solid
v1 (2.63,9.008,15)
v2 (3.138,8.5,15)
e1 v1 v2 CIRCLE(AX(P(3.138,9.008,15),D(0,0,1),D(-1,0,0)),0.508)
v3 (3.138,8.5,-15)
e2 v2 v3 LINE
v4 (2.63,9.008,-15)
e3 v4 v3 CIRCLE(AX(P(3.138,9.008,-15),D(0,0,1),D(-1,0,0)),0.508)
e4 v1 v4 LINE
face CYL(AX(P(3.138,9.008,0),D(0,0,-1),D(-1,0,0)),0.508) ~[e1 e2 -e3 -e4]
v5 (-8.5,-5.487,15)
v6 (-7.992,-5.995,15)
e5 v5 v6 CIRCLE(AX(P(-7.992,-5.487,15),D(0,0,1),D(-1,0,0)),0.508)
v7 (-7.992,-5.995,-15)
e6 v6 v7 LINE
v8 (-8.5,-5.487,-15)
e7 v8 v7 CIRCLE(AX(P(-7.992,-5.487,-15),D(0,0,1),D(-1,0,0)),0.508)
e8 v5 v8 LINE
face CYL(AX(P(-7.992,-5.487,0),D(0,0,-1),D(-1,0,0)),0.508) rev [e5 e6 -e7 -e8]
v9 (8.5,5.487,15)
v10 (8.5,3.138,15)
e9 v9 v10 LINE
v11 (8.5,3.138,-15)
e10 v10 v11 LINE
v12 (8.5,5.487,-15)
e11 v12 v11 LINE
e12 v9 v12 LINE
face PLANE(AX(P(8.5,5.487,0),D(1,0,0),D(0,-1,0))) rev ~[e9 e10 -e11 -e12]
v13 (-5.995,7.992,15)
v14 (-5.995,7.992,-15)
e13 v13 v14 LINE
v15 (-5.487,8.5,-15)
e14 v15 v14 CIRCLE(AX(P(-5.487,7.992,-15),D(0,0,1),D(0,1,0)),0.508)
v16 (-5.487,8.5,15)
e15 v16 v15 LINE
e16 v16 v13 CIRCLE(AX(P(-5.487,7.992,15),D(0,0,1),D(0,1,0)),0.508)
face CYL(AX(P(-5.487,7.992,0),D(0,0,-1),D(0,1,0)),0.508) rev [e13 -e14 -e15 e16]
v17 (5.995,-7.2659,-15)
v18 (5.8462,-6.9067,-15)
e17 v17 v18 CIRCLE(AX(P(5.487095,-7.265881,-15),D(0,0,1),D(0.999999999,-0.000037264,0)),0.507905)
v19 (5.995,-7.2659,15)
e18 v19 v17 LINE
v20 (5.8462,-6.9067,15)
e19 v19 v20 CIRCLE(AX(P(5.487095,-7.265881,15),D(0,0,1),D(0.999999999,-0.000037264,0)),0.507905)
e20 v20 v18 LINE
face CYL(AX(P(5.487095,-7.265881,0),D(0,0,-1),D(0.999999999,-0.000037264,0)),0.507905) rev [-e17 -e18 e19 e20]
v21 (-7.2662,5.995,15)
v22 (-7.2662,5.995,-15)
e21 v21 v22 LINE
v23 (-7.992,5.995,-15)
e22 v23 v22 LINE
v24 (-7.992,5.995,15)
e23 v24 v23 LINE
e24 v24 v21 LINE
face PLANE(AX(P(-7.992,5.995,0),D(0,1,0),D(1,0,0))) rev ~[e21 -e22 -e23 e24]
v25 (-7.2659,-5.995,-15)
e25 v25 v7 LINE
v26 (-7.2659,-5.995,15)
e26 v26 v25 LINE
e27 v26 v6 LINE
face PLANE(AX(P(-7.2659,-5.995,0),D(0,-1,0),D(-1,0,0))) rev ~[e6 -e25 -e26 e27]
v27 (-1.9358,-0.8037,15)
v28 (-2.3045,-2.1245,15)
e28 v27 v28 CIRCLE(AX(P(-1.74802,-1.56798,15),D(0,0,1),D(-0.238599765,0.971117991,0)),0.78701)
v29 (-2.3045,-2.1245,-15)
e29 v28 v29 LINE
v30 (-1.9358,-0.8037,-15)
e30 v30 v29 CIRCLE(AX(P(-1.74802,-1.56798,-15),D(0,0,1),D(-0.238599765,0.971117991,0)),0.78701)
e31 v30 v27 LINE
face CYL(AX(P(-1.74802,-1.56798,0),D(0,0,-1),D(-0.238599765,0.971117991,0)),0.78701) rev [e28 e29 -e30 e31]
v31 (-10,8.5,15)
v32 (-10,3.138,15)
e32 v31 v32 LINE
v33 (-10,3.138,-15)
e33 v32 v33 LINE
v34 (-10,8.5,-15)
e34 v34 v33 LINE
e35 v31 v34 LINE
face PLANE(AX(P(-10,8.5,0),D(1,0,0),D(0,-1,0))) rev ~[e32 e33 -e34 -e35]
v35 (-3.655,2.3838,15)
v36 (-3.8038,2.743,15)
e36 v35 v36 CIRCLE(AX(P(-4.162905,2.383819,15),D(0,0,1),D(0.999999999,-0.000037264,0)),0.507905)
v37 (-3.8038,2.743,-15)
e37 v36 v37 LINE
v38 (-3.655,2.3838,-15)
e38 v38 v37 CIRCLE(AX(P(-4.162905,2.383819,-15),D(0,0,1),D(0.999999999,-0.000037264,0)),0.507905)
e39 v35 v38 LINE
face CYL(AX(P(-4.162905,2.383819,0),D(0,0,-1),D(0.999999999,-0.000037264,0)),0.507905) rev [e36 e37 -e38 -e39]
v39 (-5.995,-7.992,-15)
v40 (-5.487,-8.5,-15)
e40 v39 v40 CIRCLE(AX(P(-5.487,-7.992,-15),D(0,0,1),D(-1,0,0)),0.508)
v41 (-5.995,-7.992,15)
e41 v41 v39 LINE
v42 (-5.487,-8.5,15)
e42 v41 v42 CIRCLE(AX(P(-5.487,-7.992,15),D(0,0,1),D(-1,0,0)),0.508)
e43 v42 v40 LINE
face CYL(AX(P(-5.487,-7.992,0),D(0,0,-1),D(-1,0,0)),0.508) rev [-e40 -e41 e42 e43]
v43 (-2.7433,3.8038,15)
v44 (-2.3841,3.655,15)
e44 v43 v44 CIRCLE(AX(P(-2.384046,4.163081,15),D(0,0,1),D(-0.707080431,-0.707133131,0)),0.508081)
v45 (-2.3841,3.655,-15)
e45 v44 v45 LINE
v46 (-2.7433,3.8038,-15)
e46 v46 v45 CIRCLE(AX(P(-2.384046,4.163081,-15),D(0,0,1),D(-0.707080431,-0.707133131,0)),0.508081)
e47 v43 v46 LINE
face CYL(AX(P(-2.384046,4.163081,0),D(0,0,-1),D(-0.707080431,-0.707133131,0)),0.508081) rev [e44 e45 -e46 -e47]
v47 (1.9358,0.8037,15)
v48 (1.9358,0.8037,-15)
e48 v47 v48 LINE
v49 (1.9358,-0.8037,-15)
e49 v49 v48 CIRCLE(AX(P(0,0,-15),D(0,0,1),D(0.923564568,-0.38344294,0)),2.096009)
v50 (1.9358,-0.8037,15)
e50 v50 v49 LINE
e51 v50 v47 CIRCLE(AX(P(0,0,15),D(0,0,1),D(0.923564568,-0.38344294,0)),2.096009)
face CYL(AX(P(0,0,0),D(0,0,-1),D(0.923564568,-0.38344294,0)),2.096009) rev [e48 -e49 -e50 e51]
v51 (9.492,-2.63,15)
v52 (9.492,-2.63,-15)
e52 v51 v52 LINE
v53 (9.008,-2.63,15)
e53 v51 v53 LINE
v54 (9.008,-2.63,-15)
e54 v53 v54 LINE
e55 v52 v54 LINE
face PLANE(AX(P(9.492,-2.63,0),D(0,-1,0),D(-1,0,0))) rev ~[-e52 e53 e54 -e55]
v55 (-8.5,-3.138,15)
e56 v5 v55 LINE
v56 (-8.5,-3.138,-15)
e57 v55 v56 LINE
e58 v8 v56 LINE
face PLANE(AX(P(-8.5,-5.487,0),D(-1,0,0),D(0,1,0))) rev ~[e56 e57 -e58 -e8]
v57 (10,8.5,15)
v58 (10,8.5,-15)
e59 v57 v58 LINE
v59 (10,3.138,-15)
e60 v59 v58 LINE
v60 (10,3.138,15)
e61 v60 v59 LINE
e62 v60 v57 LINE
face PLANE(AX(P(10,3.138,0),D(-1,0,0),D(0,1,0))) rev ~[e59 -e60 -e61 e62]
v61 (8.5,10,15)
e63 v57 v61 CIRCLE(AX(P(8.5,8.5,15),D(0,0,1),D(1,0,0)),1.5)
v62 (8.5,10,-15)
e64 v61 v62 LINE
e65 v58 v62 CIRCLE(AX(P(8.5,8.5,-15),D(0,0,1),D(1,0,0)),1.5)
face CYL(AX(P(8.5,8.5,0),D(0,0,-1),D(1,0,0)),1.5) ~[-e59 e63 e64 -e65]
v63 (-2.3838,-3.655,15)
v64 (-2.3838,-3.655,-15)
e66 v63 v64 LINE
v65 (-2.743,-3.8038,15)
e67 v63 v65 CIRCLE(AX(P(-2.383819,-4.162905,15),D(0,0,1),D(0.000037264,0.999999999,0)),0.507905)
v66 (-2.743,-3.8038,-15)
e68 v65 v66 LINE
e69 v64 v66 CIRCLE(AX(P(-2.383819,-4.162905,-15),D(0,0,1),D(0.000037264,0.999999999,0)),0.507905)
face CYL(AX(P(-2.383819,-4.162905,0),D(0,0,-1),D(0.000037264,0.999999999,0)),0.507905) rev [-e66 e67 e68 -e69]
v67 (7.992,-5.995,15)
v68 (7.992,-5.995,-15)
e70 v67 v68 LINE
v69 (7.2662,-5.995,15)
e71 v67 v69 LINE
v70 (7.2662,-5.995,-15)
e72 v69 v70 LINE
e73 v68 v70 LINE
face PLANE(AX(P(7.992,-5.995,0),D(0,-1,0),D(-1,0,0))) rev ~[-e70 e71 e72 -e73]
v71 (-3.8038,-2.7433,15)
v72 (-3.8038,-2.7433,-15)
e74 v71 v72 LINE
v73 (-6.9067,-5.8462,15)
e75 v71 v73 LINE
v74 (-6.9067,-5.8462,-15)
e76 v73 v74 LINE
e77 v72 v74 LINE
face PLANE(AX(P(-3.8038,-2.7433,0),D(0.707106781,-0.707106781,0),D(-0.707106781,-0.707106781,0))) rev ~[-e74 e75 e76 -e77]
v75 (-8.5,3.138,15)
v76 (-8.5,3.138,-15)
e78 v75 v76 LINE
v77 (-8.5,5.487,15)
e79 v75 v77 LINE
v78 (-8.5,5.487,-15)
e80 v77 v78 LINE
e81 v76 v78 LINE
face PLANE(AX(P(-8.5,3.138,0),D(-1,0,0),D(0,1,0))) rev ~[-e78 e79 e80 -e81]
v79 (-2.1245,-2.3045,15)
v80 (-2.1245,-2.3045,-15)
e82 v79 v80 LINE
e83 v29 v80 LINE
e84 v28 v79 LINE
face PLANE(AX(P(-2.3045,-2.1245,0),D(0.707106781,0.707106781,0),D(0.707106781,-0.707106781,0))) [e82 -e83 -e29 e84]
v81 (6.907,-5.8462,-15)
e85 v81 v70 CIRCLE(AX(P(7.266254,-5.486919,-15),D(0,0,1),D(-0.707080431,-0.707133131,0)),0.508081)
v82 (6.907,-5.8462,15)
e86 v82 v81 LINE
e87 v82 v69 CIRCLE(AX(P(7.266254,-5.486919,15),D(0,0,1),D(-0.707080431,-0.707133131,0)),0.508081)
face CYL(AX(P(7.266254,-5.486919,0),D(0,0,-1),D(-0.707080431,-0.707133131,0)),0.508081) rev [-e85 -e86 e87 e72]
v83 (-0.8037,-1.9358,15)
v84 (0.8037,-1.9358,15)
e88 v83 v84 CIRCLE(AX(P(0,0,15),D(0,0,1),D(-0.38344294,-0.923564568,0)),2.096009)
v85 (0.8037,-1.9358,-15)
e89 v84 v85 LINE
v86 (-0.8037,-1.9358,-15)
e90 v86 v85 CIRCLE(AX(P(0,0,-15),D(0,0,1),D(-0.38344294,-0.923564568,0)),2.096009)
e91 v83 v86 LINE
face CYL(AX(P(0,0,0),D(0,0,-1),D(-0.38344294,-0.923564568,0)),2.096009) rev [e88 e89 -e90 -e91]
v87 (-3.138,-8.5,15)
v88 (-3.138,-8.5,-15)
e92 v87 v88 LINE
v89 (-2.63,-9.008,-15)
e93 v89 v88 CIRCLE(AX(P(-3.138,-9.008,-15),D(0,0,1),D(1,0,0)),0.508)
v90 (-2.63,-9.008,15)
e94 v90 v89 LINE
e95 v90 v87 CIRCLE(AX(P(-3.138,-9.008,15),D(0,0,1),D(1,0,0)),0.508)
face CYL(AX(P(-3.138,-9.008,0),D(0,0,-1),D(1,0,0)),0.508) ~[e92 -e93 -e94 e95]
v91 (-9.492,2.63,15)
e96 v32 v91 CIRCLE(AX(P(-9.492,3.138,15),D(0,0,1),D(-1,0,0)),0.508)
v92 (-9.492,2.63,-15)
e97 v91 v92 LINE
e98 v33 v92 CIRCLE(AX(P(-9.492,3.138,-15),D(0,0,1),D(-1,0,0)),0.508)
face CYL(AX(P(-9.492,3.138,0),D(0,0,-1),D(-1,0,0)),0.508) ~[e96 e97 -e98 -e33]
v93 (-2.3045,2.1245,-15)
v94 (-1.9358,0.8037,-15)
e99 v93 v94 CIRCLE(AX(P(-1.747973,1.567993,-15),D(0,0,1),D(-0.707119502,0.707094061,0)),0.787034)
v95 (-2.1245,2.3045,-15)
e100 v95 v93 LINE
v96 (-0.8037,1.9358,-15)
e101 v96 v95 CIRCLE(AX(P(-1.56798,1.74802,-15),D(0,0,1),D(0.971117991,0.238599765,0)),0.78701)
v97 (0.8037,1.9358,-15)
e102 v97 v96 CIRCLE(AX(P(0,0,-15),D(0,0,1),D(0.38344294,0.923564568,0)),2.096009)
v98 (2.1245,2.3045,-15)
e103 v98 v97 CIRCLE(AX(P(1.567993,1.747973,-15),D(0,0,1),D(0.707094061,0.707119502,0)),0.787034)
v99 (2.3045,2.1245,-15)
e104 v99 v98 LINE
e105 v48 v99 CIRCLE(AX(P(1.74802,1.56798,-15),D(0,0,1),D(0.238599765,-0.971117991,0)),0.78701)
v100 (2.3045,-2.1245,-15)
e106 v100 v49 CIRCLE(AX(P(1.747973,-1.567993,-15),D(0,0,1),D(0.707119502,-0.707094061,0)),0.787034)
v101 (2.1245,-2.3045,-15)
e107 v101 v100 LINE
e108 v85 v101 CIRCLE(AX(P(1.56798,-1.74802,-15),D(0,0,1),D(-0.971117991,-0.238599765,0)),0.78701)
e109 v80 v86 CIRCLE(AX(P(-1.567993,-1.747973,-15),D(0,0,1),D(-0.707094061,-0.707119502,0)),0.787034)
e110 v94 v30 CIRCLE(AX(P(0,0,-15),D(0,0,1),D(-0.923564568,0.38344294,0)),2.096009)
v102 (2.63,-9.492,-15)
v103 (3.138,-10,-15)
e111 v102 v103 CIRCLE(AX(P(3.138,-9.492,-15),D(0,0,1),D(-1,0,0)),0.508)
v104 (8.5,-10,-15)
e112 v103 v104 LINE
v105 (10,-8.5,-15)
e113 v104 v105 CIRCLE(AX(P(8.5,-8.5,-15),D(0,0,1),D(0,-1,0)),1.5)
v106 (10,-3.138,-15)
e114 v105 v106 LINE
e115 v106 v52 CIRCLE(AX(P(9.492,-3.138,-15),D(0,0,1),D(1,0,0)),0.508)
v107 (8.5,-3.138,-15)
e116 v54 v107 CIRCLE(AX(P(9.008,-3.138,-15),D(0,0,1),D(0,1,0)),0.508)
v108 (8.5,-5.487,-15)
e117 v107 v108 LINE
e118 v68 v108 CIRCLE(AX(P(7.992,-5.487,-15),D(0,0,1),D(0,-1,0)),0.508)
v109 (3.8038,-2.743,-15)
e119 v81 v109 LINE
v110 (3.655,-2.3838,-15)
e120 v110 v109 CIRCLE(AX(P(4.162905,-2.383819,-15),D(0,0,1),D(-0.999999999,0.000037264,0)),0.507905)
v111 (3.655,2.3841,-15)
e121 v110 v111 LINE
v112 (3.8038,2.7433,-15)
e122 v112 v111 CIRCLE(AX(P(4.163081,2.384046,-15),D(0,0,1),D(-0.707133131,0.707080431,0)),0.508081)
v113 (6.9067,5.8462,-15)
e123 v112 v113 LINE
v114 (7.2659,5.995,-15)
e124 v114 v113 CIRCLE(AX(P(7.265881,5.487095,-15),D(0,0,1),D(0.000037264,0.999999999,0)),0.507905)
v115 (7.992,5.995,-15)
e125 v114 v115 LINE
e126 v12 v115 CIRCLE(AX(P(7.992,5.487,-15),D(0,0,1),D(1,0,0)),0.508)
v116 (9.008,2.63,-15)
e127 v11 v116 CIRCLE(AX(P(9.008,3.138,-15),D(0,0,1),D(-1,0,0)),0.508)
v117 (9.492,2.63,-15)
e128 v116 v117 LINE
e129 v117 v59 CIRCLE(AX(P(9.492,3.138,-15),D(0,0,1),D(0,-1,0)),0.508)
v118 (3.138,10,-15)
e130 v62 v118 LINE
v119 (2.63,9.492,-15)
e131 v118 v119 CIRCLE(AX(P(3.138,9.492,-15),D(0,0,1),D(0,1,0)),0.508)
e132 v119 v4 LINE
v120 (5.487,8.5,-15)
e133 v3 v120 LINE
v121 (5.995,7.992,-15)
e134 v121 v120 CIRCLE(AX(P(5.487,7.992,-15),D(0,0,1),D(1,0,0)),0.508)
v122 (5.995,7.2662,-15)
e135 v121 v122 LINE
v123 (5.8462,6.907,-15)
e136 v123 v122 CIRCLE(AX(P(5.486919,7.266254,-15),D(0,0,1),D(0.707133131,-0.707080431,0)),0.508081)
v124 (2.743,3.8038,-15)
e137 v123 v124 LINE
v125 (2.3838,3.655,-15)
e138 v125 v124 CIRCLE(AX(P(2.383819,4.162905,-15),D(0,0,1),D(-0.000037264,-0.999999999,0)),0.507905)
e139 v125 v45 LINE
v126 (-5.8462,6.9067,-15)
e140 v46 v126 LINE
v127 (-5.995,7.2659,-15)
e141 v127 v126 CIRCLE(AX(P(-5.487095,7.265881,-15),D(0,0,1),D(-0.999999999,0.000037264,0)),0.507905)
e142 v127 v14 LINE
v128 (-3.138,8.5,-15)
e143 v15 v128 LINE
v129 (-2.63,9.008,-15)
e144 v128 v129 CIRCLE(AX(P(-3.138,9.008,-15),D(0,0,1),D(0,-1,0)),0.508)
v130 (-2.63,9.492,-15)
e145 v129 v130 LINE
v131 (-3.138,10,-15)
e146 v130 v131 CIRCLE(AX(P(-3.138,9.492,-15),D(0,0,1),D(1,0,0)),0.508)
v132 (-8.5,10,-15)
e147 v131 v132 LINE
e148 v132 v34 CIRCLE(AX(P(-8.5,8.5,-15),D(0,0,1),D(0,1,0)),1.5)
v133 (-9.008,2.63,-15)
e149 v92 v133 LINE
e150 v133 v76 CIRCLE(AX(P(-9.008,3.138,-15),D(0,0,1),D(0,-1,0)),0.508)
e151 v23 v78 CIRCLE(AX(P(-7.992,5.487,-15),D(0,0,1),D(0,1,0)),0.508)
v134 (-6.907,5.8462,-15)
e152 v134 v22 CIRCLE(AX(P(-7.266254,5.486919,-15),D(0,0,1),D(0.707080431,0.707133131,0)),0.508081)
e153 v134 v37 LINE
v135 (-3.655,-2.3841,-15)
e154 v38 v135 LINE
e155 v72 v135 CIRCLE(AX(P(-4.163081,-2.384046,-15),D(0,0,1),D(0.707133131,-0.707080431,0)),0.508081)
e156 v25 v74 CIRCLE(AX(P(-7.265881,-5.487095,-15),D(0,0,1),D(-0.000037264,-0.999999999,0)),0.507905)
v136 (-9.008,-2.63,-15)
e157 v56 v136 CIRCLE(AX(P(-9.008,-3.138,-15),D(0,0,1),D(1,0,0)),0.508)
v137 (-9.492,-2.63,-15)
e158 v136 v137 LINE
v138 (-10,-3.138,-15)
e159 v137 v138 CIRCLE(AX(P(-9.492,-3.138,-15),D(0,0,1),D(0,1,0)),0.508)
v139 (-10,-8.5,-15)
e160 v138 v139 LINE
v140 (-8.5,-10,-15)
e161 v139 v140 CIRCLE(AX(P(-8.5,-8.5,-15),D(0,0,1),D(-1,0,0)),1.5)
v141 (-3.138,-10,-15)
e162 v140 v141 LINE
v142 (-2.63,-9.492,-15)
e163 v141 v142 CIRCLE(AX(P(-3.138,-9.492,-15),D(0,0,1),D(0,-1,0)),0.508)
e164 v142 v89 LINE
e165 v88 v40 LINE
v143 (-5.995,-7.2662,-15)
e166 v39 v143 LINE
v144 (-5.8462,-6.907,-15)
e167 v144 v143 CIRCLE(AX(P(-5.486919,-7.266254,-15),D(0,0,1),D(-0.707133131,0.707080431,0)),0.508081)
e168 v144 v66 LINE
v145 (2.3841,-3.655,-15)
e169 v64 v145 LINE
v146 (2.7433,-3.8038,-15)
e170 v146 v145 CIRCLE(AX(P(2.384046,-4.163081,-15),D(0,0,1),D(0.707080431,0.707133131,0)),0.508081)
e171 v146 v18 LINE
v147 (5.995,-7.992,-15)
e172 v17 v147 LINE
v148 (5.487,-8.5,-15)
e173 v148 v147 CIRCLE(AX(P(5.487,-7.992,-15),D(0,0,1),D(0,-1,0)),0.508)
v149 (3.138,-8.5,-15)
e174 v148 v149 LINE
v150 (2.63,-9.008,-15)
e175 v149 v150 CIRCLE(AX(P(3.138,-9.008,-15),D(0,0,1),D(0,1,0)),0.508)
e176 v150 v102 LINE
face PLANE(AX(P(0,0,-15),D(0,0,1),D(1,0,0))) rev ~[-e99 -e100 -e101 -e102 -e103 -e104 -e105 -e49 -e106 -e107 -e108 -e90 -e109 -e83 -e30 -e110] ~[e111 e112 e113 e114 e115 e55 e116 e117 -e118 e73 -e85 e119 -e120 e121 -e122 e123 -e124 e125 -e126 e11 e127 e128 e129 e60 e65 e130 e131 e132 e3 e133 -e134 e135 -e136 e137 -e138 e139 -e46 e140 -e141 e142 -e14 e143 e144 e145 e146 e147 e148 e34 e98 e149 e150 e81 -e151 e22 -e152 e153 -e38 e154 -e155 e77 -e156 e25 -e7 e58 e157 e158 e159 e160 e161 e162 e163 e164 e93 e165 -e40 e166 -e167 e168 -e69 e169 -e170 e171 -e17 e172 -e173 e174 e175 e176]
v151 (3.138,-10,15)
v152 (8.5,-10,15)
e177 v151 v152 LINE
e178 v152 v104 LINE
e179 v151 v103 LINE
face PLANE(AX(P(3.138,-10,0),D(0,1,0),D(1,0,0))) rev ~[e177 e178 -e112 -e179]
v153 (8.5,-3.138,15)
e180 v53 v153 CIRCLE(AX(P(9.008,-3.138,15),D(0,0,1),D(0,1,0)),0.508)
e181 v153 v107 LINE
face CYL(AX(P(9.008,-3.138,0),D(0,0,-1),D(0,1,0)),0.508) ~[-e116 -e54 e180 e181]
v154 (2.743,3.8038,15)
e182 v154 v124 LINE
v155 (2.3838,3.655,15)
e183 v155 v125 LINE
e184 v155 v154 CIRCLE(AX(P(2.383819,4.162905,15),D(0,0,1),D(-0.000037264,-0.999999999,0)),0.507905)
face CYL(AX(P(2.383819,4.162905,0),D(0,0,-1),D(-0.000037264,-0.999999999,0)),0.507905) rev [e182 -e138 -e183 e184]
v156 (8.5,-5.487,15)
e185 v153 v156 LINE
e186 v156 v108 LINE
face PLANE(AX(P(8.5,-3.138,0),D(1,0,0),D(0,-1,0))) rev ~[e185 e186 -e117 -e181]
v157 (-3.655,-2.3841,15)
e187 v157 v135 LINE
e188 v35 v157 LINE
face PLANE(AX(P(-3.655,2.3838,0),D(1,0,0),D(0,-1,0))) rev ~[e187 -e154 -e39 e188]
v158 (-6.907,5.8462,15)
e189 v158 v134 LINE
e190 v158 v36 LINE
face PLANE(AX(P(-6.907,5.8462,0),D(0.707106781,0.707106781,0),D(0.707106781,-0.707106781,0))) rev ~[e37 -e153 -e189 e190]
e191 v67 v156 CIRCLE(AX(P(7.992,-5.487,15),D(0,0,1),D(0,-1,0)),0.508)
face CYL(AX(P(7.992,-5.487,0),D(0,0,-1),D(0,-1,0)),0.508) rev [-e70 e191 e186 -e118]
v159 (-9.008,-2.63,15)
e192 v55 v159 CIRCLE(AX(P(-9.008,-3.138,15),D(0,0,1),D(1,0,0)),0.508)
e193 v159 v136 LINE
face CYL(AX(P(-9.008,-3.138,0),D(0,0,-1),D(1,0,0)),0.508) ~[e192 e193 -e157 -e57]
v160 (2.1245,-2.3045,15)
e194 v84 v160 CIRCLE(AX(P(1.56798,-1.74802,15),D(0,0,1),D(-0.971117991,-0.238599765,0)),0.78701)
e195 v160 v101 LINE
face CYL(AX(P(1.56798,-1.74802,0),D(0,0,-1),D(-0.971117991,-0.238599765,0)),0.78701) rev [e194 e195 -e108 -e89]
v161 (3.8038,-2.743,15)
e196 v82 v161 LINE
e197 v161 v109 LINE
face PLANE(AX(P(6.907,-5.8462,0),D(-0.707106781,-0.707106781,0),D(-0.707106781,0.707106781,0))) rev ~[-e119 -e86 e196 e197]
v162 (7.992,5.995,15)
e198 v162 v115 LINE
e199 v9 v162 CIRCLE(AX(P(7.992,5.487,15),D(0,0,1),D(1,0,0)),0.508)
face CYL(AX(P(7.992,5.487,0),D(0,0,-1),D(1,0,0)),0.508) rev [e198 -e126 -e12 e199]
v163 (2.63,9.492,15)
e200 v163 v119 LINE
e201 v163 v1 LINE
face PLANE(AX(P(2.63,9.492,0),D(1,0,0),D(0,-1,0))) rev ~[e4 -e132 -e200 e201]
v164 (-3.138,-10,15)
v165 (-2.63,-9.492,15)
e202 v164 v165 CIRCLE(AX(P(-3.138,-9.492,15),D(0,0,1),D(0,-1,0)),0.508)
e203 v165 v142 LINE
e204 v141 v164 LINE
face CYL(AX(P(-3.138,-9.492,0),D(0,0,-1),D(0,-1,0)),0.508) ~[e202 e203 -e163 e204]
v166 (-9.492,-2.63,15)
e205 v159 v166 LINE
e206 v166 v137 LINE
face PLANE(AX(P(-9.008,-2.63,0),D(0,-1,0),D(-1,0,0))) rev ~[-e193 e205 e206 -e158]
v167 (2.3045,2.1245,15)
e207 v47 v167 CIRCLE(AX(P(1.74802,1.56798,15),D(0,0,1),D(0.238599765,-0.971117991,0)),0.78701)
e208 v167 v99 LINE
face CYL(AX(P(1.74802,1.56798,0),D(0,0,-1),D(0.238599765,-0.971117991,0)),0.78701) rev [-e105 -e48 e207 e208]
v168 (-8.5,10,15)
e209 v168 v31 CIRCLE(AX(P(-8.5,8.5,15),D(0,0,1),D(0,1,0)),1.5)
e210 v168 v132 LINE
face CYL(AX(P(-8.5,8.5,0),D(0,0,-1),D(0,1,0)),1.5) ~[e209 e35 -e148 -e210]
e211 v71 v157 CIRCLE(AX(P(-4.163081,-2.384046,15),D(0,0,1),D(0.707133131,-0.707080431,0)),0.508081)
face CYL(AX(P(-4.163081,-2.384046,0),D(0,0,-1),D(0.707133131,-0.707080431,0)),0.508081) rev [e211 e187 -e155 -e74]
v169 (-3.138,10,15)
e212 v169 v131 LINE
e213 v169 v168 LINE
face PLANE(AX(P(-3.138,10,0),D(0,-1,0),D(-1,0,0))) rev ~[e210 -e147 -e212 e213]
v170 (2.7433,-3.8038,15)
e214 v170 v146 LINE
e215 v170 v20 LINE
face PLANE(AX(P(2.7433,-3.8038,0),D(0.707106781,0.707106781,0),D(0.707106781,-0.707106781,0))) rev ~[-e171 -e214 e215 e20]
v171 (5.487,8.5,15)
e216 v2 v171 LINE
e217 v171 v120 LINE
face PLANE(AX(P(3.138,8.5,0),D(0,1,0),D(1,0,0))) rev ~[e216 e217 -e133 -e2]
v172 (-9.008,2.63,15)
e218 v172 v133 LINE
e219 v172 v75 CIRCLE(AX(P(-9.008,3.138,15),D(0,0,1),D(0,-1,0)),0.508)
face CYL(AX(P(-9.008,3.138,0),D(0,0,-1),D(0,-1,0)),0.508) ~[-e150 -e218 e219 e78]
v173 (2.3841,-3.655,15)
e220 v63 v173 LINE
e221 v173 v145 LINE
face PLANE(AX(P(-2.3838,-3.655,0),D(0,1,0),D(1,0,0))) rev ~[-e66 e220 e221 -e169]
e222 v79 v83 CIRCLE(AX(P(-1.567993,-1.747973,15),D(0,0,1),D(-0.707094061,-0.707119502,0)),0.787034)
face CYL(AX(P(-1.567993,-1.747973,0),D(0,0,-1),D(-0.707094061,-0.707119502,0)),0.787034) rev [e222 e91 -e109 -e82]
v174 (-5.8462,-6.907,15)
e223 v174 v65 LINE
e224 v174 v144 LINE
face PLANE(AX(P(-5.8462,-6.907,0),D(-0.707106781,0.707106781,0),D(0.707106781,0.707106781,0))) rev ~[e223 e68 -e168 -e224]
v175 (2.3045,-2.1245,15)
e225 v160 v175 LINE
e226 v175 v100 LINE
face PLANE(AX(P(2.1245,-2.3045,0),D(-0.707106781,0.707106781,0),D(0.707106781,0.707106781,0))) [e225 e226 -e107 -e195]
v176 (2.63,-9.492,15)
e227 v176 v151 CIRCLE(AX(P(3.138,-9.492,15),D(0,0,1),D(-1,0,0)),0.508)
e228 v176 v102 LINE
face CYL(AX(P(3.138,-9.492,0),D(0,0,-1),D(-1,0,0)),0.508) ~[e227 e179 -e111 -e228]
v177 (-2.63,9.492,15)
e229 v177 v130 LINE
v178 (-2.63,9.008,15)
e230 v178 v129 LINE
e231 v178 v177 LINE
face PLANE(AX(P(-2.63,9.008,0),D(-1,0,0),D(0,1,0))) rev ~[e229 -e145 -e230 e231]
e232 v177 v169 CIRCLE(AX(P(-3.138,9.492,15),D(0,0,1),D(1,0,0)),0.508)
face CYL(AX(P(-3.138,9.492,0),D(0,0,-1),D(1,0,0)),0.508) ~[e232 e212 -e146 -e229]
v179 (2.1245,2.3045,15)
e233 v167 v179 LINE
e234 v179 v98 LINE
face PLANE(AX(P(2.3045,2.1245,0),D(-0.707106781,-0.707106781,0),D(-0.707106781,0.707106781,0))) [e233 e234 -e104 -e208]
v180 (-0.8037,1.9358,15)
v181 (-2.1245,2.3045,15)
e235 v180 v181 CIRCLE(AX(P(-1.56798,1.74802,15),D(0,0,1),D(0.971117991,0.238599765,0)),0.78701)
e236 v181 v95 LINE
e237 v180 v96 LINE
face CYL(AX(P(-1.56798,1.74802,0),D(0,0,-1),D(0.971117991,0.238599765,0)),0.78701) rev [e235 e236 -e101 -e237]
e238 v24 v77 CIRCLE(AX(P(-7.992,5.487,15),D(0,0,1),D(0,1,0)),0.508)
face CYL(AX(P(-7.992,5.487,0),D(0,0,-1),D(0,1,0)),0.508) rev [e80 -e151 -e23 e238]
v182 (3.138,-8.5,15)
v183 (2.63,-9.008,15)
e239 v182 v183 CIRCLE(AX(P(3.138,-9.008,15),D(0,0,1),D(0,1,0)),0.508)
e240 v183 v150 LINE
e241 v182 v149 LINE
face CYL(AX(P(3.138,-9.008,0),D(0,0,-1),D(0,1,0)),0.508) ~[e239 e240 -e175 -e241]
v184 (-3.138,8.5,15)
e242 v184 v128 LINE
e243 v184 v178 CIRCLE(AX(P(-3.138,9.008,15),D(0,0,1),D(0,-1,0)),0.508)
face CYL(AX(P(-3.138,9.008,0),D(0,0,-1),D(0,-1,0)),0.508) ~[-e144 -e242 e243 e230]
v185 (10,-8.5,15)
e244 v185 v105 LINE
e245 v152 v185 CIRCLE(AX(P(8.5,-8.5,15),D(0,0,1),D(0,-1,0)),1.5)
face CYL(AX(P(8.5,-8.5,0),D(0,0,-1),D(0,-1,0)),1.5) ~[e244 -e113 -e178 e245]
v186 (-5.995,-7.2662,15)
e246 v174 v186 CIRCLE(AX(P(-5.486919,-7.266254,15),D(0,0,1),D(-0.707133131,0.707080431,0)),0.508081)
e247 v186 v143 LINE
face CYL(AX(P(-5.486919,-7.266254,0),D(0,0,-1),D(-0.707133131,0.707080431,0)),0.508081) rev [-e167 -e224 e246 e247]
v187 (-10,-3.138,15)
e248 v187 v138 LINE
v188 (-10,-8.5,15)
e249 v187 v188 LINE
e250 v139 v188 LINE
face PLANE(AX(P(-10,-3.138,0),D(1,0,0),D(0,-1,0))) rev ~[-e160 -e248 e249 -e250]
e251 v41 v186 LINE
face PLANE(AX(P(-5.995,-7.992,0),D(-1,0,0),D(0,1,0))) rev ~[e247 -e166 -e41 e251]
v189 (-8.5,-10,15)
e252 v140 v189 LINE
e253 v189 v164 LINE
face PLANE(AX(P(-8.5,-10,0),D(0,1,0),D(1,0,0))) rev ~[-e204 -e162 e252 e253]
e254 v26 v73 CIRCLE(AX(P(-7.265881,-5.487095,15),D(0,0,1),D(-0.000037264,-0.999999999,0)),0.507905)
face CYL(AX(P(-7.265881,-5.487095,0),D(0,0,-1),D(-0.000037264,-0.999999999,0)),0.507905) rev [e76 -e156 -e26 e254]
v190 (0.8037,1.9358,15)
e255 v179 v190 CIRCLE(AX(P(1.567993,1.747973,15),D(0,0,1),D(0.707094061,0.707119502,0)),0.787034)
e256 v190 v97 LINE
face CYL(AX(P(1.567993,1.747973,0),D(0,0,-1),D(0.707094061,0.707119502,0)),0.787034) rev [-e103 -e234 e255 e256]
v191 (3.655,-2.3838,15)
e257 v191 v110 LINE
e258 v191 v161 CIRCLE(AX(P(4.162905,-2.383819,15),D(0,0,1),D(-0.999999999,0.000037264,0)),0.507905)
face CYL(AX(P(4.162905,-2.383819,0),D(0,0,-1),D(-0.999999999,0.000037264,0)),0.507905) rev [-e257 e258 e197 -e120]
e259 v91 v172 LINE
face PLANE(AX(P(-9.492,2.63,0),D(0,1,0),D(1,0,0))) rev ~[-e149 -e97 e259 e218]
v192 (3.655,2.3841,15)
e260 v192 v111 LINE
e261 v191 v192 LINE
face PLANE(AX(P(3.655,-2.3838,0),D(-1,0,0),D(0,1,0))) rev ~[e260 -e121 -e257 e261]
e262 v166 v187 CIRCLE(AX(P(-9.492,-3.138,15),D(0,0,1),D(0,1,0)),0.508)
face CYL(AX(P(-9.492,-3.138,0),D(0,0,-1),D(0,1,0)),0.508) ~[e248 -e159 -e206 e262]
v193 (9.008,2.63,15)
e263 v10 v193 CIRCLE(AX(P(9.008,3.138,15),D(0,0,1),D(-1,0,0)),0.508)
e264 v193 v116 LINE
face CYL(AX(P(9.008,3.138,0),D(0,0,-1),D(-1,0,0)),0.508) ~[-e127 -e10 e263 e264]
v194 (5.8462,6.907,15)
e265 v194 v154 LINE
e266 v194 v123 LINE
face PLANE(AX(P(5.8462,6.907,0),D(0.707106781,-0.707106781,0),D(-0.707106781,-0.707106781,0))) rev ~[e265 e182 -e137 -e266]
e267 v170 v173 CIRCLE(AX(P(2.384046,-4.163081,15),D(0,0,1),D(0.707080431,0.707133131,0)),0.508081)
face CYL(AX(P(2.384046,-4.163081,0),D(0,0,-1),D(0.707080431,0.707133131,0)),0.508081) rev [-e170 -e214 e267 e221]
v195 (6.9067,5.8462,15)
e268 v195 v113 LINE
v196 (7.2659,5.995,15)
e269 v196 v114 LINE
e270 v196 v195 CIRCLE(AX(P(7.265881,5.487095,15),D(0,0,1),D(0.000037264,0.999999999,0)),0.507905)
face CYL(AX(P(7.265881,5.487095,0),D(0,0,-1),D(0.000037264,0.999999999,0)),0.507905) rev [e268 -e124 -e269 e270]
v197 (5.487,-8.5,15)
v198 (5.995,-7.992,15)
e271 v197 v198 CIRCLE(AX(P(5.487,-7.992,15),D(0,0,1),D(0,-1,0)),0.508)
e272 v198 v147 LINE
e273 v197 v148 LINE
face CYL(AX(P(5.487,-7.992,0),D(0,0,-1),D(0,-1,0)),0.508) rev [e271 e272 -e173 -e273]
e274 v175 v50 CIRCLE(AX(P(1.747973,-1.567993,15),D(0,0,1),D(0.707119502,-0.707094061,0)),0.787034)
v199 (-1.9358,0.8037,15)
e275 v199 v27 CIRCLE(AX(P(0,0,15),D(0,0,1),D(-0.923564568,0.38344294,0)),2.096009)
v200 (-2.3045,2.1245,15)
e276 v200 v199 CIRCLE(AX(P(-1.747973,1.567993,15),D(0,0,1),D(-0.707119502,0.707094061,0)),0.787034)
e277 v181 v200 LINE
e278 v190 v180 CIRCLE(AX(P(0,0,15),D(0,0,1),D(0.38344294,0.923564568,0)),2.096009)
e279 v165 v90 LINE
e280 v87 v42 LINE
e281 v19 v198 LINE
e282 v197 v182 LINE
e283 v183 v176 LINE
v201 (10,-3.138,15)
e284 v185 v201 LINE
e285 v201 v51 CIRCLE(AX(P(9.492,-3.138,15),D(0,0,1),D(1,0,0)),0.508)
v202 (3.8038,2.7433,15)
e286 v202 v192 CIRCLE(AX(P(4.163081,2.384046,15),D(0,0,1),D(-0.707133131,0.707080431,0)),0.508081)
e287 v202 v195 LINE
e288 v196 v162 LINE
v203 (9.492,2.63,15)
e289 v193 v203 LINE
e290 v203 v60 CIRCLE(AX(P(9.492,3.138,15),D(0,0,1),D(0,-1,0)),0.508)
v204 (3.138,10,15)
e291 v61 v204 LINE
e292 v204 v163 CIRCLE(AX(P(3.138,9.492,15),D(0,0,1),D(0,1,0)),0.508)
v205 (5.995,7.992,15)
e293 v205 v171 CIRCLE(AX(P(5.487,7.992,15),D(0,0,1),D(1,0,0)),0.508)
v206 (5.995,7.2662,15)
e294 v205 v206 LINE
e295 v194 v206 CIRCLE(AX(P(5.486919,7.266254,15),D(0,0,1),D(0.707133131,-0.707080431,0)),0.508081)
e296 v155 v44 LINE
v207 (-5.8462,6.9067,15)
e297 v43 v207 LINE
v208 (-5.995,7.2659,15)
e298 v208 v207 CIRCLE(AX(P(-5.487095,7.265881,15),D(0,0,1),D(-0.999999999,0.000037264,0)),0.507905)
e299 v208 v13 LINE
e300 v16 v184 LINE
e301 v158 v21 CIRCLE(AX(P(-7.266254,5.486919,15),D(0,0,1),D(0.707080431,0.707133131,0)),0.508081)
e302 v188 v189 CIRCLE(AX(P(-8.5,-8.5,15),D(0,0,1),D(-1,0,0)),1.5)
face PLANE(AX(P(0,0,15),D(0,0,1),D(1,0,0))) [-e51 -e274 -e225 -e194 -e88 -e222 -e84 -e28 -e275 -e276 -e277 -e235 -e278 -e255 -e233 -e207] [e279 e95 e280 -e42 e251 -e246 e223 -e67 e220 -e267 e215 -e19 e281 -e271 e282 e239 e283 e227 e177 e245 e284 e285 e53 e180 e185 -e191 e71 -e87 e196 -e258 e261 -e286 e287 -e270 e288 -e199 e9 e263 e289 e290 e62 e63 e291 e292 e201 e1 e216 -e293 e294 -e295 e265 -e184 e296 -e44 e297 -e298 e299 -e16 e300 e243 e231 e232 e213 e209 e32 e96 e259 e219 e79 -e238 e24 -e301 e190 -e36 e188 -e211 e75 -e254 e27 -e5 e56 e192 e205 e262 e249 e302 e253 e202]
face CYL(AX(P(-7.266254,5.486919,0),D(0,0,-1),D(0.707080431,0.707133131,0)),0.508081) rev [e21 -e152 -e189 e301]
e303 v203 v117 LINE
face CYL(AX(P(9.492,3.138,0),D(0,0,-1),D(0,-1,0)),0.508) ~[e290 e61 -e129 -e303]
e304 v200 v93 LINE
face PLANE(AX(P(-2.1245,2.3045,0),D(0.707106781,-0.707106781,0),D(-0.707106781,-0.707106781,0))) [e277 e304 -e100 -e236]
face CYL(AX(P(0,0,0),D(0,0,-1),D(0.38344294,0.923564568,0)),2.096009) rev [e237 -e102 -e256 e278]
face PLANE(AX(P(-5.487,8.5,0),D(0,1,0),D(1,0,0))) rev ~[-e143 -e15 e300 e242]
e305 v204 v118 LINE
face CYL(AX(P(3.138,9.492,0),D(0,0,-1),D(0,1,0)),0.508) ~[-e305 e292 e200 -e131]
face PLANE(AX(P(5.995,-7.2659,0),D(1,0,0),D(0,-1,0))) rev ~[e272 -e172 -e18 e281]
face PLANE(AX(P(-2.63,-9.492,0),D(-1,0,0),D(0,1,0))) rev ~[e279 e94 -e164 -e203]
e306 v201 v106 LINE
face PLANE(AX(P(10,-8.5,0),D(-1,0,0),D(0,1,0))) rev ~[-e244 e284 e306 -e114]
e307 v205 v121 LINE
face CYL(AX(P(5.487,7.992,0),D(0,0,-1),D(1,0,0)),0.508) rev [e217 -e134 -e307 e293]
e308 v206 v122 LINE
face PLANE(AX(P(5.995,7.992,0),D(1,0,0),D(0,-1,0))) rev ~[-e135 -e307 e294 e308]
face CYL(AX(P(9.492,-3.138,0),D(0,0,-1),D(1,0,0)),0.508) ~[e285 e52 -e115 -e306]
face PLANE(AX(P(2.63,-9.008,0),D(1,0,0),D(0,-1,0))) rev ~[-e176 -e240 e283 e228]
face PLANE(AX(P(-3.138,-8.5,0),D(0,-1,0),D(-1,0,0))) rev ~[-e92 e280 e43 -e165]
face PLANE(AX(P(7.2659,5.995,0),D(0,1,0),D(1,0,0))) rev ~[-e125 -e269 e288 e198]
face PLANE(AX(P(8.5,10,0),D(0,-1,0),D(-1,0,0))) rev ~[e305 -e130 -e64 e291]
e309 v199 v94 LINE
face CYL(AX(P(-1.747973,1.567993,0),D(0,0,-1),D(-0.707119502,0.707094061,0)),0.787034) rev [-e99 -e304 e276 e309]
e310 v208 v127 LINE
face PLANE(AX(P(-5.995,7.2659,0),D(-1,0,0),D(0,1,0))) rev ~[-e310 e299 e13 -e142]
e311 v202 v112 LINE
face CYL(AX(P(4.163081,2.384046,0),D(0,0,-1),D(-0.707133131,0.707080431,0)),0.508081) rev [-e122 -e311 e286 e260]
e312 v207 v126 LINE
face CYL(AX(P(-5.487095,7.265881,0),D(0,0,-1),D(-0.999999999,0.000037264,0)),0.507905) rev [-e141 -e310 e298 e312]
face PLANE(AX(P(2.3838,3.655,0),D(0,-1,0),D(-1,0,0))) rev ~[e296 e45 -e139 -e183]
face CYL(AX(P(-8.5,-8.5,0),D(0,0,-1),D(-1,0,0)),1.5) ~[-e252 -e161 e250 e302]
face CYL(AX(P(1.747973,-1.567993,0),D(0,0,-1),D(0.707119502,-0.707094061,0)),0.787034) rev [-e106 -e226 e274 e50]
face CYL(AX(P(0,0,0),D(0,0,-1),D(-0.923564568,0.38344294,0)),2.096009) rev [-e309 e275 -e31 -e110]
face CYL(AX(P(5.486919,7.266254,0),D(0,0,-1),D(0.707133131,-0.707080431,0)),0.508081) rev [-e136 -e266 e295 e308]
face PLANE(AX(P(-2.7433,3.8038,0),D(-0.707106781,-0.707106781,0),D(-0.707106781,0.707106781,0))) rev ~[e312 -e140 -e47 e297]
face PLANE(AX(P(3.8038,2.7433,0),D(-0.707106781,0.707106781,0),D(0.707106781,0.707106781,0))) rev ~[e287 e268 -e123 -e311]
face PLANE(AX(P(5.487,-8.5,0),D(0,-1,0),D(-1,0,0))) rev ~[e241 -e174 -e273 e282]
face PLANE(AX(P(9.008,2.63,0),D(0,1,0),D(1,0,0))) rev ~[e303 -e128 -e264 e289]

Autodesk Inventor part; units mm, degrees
ref_plane "YZ Plane" through (0, 0, 0) normal (1, 0, 0) x (0, 1, 0)
ref_plane "XZ Plane" through (0, 0, 0) normal (0, 1, 0) x (-1, 0, 0)
ref_plane "XY Plane" through (0, 0, 0) normal (0, 0, 1) x (1, 0, 0)
sketch "Sketch1" plane through (0, 0, 0) normal (0, 0, 1) x (1, 0, 0)
  arc A0 (-10, -8.5) -> (-8.5, -10) centre (-8.5, -8.5) ccw
  line L0 (-8.5, -10) -> (-3.138, -10)
  arc A1 (-3.138, -10) -> (-2.63, -9.492) centre (-3.138, -9.492) ccw
  line L1 (-2.63, -9.492) -> (-2.63, -9.008)
  arc A2 (-2.63, -9.008) -> (-3.138, -8.5) centre (-3.138, -9.008) ccw
  line L2 (-3.138, -8.5) -> (-5.487, -8.5)
  arc A3 (-5.995, -7.992) -> (-5.487, -8.5) centre (-5.487, -7.992) ccw
  line L3 (-5.995, -7.992) -> (-5.995, -7.2662)
  arc A4 (-5.8462, -6.907) -> (-5.995, -7.2662) centre (-5.487, -7.2662) ccw
  line L4 (-5.8462, -6.907) -> (-2.743, -3.8038)
  arc A5 (-2.3838, -3.655) -> (-2.743, -3.8038) centre (-2.3838, -4.163) ccw
  line L5 (-2.3838, -3.655) -> (2.3841, -3.655)
  arc A6 (2.7433, -3.8038) -> (2.3841, -3.655) centre (2.3841, -4.163) ccw
  line L6 (2.7433, -3.8038) -> (5.8462, -6.9067)
  arc A7 (5.995, -7.2659) -> (5.8462, -6.9067) centre (5.487, -7.2659) ccw
  line L7 (5.995, -7.2659) -> (5.995, -7.992)
  arc A8 (5.487, -8.5) -> (5.995, -7.992) centre (5.487, -7.992) ccw
  line L8 (5.487, -8.5) -> (3.138, -8.5)
  arc A9 (3.138, -8.5) -> (2.63, -9.008) centre (3.138, -9.008) ccw
  line L9 (2.63, -9.008) -> (2.63, -9.492)
  arc A10 (2.63, -9.492) -> (3.138, -10) centre (3.138, -9.492) ccw
  line L10 (3.138, -10) -> (8.5, -10)
  arc A11 (8.5, -10) -> (10, -8.5) centre (8.5, -8.5) ccw
  line L11 (10, -8.5) -> (10, -3.138)
  arc A12 (10, -3.138) -> (9.492, -2.63) centre (9.492, -3.138) ccw
  line L12 (9.492, -2.63) -> (9.008, -2.63)
  arc A13 (9.008, -2.63) -> (8.5, -3.138) centre (9.008, -3.138) ccw
  line L13 (8.5, -3.138) -> (8.5, -5.487)
  arc A14 (7.992, -5.995) -> (8.5, -5.487) centre (7.992, -5.487) ccw
  line L14 (7.992, -5.995) -> (7.2662, -5.995)
  arc A15 (6.907, -5.8462) -> (7.2662, -5.995) centre (7.2662, -5.487) ccw
  line L15 (6.907, -5.8462) -> (3.8038, -2.743)
  arc A16 (3.655, -2.3838) -> (3.8038, -2.743) centre (4.163, -2.3838) ccw
  line L16 (3.655, -2.3838) -> (3.655, 2.3841)
  arc A17 (3.8038, 2.7433) -> (3.655, 2.3841) centre (4.163, 2.3841) ccw
  line L17 (3.8038, 2.7433) -> (6.9067, 5.8462)
  arc A18 (7.2659, 5.995) -> (6.9067, 5.8462) centre (7.2659, 5.487) ccw
  line L18 (7.2659, 5.995) -> (7.992, 5.995)
  arc A19 (8.5, 5.487) -> (7.992, 5.995) centre (7.992, 5.487) ccw
  line L19 (8.5, 5.487) -> (8.5, 3.138)
  arc A20 (8.5, 3.138) -> (9.008, 2.63) centre (9.008, 3.138) ccw
  line L20 (9.008, 2.63) -> (9.492, 2.63)
  arc A21 (9.492, 2.63) -> (10, 3.138) centre (9.492, 3.138) ccw
  line L21 (10, 3.138) -> (10, 8.5)
  arc A22 (10, 8.5) -> (8.5, 10) centre (8.5, 8.5) ccw
  line L22 (8.5, 10) -> (3.138, 10)
  arc A23 (3.138, 10) -> (2.63, 9.492) centre (3.138, 9.492) ccw
  line L23 (2.63, 9.492) -> (2.63, 9.008)
  arc A24 (2.63, 9.008) -> (3.138, 8.5) centre (3.138, 9.008) ccw
  line L24 (3.138, 8.5) -> (5.487, 8.5)
  arc A25 (5.995, 7.992) -> (5.487, 8.5) centre (5.487, 7.992) ccw
  line L25 (5.995, 7.992) -> (5.995, 7.2662)
  arc A26 (5.8462, 6.907) -> (5.995, 7.2662) centre (5.487, 7.2662) ccw
  line L26 (5.8462, 6.907) -> (2.743, 3.8038)
  arc A27 (2.3838, 3.655) -> (2.743, 3.8038) centre (2.3838, 4.163) ccw
  line L27 (2.3838, 3.655) -> (-2.3841, 3.655)
  arc A28 (-2.7433, 3.8038) -> (-2.3841, 3.655) centre (-2.3841, 4.163) ccw
  line L28 (-2.7433, 3.8038) -> (-5.8462, 6.9067)
  arc A29 (-5.995, 7.2659) -> (-5.8462, 6.9067) centre (-5.487, 7.2659) ccw
  line L29 (-5.995, 7.2659) -> (-5.995, 7.992)
  arc A30 (-5.487, 8.5) -> (-5.995, 7.992) centre (-5.487, 7.992) ccw
  line L30 (-5.487, 8.5) -> (-3.138, 8.5)
  arc A31 (-3.138, 8.5) -> (-2.63, 9.008) centre (-3.138, 9.008) ccw
  line L31 (-2.63, 9.008) -> (-2.63, 9.492)
  arc A32 (-2.63, 9.492) -> (-3.138, 10) centre (-3.138, 9.492) ccw
  line L32 (-3.138, 10) -> (-8.5, 10)
  arc A33 (-8.5, 10) -> (-10, 8.5) centre (-8.5, 8.5) ccw
  line L33 (-10, 8.5) -> (-10, 3.138)
  arc A34 (-10, 3.138) -> (-9.492, 2.63) centre (-9.492, 3.138) ccw
  line L34 (-9.492, 2.63) -> (-9.008, 2.63)
  arc A35 (-9.008, 2.63) -> (-8.5, 3.138) centre (-9.008, 3.138) ccw
  line L35 (-8.5, 3.138) -> (-8.5, 5.487)
  arc A36 (-7.992, 5.995) -> (-8.5, 5.487) centre (-7.992, 5.487) ccw
  line L36 (-7.992, 5.995) -> (-7.2662, 5.995)
  arc A37 (-6.907, 5.8462) -> (-7.2662, 5.995) centre (-7.2662, 5.487) ccw
  line L37 (-6.907, 5.8462) -> (-3.8038, 2.743)
  arc A38 (-3.655, 2.3838) -> (-3.8038, 2.743) centre (-4.163, 2.3838) ccw
  line L38 (-3.655, 2.3838) -> (-3.655, -2.3841)
  arc A39 (-3.8038, -2.7433) -> (-3.655, -2.3841) centre (-4.163, -2.3841) ccw
  line L39 (-3.8038, -2.7433) -> (-6.9067, -5.8462)
  arc A40 (-7.2659, -5.995) -> (-6.9067, -5.8462) centre (-7.2659, -5.487) ccw
  line L40 (-7.2659, -5.995) -> (-7.992, -5.995)
  arc A41 (-8.5, -5.487) -> (-7.992, -5.995) centre (-7.992, -5.487) ccw
  line L41 (-8.5, -5.487) -> (-8.5, -3.138)
  arc A42 (-8.5, -3.138) -> (-9.008, -2.63) centre (-9.008, -3.138) ccw
  line L42 (-9.008, -2.63) -> (-9.492, -2.63)
  arc A43 (-9.492, -2.63) -> (-10, -3.138) centre (-9.492, -3.138) ccw
  line L43 (-10, -3.138) -> (-10, -8.5)
  arc A44 (-1.9358, -0.8037) -> (-2.3045, -2.1245) centre (-1.748, -1.568) ccw
  line L44 (-2.3045, -2.1245) -> (-2.1245, -2.3045)
  arc A45 (-2.1245, -2.3045) -> (-0.8037, -1.9358) centre (-1.568, -1.748) ccw
  arc A46 (-0.8037, -1.9358) -> (0.8037, -1.9358) centre (0, 0) ccw
  arc A47 (0.8037, -1.9358) -> (2.1245, -2.3045) centre (1.568, -1.748) ccw
  line L45 (2.1245, -2.3045) -> (2.3045, -2.1245)
  arc A48 (2.3045, -2.1245) -> (1.9358, -0.8037) centre (1.748, -1.568) ccw
  arc A49 (1.9358, -0.8037) -> (1.9358, 0.8037) centre (0, 0) ccw
  arc A50 (1.9358, 0.8037) -> (2.3045, 2.1245) centre (1.748, 1.568) ccw
  line L46 (2.3045, 2.1245) -> (2.1245, 2.3045)
  arc A51 (2.1245, 2.3045) -> (0.8037, 1.9358) centre (1.568, 1.748) ccw
  arc A52 (0.8037, 1.9358) -> (-0.8037, 1.9358) centre (0, 0) ccw
  arc A53 (-0.8037, 1.9358) -> (-2.1245, 2.3045) centre (-1.568, 1.748) ccw
  line L47 (-2.1245, 2.3045) -> (-2.3045, 2.1245)
  arc A54 (-2.3045, 2.1245) -> (-1.9358, 0.8037) centre (-1.748, 1.568) ccw
  arc A55 (-1.9358, 0.8037) -> (-1.9358, -0.8037) centre (0, 0) ccw
  point P0 (0, 0)
extrude "Extrusion1" add sketch "Sketch1" along normal mid plane 30
properties part number "20-2020-285"
